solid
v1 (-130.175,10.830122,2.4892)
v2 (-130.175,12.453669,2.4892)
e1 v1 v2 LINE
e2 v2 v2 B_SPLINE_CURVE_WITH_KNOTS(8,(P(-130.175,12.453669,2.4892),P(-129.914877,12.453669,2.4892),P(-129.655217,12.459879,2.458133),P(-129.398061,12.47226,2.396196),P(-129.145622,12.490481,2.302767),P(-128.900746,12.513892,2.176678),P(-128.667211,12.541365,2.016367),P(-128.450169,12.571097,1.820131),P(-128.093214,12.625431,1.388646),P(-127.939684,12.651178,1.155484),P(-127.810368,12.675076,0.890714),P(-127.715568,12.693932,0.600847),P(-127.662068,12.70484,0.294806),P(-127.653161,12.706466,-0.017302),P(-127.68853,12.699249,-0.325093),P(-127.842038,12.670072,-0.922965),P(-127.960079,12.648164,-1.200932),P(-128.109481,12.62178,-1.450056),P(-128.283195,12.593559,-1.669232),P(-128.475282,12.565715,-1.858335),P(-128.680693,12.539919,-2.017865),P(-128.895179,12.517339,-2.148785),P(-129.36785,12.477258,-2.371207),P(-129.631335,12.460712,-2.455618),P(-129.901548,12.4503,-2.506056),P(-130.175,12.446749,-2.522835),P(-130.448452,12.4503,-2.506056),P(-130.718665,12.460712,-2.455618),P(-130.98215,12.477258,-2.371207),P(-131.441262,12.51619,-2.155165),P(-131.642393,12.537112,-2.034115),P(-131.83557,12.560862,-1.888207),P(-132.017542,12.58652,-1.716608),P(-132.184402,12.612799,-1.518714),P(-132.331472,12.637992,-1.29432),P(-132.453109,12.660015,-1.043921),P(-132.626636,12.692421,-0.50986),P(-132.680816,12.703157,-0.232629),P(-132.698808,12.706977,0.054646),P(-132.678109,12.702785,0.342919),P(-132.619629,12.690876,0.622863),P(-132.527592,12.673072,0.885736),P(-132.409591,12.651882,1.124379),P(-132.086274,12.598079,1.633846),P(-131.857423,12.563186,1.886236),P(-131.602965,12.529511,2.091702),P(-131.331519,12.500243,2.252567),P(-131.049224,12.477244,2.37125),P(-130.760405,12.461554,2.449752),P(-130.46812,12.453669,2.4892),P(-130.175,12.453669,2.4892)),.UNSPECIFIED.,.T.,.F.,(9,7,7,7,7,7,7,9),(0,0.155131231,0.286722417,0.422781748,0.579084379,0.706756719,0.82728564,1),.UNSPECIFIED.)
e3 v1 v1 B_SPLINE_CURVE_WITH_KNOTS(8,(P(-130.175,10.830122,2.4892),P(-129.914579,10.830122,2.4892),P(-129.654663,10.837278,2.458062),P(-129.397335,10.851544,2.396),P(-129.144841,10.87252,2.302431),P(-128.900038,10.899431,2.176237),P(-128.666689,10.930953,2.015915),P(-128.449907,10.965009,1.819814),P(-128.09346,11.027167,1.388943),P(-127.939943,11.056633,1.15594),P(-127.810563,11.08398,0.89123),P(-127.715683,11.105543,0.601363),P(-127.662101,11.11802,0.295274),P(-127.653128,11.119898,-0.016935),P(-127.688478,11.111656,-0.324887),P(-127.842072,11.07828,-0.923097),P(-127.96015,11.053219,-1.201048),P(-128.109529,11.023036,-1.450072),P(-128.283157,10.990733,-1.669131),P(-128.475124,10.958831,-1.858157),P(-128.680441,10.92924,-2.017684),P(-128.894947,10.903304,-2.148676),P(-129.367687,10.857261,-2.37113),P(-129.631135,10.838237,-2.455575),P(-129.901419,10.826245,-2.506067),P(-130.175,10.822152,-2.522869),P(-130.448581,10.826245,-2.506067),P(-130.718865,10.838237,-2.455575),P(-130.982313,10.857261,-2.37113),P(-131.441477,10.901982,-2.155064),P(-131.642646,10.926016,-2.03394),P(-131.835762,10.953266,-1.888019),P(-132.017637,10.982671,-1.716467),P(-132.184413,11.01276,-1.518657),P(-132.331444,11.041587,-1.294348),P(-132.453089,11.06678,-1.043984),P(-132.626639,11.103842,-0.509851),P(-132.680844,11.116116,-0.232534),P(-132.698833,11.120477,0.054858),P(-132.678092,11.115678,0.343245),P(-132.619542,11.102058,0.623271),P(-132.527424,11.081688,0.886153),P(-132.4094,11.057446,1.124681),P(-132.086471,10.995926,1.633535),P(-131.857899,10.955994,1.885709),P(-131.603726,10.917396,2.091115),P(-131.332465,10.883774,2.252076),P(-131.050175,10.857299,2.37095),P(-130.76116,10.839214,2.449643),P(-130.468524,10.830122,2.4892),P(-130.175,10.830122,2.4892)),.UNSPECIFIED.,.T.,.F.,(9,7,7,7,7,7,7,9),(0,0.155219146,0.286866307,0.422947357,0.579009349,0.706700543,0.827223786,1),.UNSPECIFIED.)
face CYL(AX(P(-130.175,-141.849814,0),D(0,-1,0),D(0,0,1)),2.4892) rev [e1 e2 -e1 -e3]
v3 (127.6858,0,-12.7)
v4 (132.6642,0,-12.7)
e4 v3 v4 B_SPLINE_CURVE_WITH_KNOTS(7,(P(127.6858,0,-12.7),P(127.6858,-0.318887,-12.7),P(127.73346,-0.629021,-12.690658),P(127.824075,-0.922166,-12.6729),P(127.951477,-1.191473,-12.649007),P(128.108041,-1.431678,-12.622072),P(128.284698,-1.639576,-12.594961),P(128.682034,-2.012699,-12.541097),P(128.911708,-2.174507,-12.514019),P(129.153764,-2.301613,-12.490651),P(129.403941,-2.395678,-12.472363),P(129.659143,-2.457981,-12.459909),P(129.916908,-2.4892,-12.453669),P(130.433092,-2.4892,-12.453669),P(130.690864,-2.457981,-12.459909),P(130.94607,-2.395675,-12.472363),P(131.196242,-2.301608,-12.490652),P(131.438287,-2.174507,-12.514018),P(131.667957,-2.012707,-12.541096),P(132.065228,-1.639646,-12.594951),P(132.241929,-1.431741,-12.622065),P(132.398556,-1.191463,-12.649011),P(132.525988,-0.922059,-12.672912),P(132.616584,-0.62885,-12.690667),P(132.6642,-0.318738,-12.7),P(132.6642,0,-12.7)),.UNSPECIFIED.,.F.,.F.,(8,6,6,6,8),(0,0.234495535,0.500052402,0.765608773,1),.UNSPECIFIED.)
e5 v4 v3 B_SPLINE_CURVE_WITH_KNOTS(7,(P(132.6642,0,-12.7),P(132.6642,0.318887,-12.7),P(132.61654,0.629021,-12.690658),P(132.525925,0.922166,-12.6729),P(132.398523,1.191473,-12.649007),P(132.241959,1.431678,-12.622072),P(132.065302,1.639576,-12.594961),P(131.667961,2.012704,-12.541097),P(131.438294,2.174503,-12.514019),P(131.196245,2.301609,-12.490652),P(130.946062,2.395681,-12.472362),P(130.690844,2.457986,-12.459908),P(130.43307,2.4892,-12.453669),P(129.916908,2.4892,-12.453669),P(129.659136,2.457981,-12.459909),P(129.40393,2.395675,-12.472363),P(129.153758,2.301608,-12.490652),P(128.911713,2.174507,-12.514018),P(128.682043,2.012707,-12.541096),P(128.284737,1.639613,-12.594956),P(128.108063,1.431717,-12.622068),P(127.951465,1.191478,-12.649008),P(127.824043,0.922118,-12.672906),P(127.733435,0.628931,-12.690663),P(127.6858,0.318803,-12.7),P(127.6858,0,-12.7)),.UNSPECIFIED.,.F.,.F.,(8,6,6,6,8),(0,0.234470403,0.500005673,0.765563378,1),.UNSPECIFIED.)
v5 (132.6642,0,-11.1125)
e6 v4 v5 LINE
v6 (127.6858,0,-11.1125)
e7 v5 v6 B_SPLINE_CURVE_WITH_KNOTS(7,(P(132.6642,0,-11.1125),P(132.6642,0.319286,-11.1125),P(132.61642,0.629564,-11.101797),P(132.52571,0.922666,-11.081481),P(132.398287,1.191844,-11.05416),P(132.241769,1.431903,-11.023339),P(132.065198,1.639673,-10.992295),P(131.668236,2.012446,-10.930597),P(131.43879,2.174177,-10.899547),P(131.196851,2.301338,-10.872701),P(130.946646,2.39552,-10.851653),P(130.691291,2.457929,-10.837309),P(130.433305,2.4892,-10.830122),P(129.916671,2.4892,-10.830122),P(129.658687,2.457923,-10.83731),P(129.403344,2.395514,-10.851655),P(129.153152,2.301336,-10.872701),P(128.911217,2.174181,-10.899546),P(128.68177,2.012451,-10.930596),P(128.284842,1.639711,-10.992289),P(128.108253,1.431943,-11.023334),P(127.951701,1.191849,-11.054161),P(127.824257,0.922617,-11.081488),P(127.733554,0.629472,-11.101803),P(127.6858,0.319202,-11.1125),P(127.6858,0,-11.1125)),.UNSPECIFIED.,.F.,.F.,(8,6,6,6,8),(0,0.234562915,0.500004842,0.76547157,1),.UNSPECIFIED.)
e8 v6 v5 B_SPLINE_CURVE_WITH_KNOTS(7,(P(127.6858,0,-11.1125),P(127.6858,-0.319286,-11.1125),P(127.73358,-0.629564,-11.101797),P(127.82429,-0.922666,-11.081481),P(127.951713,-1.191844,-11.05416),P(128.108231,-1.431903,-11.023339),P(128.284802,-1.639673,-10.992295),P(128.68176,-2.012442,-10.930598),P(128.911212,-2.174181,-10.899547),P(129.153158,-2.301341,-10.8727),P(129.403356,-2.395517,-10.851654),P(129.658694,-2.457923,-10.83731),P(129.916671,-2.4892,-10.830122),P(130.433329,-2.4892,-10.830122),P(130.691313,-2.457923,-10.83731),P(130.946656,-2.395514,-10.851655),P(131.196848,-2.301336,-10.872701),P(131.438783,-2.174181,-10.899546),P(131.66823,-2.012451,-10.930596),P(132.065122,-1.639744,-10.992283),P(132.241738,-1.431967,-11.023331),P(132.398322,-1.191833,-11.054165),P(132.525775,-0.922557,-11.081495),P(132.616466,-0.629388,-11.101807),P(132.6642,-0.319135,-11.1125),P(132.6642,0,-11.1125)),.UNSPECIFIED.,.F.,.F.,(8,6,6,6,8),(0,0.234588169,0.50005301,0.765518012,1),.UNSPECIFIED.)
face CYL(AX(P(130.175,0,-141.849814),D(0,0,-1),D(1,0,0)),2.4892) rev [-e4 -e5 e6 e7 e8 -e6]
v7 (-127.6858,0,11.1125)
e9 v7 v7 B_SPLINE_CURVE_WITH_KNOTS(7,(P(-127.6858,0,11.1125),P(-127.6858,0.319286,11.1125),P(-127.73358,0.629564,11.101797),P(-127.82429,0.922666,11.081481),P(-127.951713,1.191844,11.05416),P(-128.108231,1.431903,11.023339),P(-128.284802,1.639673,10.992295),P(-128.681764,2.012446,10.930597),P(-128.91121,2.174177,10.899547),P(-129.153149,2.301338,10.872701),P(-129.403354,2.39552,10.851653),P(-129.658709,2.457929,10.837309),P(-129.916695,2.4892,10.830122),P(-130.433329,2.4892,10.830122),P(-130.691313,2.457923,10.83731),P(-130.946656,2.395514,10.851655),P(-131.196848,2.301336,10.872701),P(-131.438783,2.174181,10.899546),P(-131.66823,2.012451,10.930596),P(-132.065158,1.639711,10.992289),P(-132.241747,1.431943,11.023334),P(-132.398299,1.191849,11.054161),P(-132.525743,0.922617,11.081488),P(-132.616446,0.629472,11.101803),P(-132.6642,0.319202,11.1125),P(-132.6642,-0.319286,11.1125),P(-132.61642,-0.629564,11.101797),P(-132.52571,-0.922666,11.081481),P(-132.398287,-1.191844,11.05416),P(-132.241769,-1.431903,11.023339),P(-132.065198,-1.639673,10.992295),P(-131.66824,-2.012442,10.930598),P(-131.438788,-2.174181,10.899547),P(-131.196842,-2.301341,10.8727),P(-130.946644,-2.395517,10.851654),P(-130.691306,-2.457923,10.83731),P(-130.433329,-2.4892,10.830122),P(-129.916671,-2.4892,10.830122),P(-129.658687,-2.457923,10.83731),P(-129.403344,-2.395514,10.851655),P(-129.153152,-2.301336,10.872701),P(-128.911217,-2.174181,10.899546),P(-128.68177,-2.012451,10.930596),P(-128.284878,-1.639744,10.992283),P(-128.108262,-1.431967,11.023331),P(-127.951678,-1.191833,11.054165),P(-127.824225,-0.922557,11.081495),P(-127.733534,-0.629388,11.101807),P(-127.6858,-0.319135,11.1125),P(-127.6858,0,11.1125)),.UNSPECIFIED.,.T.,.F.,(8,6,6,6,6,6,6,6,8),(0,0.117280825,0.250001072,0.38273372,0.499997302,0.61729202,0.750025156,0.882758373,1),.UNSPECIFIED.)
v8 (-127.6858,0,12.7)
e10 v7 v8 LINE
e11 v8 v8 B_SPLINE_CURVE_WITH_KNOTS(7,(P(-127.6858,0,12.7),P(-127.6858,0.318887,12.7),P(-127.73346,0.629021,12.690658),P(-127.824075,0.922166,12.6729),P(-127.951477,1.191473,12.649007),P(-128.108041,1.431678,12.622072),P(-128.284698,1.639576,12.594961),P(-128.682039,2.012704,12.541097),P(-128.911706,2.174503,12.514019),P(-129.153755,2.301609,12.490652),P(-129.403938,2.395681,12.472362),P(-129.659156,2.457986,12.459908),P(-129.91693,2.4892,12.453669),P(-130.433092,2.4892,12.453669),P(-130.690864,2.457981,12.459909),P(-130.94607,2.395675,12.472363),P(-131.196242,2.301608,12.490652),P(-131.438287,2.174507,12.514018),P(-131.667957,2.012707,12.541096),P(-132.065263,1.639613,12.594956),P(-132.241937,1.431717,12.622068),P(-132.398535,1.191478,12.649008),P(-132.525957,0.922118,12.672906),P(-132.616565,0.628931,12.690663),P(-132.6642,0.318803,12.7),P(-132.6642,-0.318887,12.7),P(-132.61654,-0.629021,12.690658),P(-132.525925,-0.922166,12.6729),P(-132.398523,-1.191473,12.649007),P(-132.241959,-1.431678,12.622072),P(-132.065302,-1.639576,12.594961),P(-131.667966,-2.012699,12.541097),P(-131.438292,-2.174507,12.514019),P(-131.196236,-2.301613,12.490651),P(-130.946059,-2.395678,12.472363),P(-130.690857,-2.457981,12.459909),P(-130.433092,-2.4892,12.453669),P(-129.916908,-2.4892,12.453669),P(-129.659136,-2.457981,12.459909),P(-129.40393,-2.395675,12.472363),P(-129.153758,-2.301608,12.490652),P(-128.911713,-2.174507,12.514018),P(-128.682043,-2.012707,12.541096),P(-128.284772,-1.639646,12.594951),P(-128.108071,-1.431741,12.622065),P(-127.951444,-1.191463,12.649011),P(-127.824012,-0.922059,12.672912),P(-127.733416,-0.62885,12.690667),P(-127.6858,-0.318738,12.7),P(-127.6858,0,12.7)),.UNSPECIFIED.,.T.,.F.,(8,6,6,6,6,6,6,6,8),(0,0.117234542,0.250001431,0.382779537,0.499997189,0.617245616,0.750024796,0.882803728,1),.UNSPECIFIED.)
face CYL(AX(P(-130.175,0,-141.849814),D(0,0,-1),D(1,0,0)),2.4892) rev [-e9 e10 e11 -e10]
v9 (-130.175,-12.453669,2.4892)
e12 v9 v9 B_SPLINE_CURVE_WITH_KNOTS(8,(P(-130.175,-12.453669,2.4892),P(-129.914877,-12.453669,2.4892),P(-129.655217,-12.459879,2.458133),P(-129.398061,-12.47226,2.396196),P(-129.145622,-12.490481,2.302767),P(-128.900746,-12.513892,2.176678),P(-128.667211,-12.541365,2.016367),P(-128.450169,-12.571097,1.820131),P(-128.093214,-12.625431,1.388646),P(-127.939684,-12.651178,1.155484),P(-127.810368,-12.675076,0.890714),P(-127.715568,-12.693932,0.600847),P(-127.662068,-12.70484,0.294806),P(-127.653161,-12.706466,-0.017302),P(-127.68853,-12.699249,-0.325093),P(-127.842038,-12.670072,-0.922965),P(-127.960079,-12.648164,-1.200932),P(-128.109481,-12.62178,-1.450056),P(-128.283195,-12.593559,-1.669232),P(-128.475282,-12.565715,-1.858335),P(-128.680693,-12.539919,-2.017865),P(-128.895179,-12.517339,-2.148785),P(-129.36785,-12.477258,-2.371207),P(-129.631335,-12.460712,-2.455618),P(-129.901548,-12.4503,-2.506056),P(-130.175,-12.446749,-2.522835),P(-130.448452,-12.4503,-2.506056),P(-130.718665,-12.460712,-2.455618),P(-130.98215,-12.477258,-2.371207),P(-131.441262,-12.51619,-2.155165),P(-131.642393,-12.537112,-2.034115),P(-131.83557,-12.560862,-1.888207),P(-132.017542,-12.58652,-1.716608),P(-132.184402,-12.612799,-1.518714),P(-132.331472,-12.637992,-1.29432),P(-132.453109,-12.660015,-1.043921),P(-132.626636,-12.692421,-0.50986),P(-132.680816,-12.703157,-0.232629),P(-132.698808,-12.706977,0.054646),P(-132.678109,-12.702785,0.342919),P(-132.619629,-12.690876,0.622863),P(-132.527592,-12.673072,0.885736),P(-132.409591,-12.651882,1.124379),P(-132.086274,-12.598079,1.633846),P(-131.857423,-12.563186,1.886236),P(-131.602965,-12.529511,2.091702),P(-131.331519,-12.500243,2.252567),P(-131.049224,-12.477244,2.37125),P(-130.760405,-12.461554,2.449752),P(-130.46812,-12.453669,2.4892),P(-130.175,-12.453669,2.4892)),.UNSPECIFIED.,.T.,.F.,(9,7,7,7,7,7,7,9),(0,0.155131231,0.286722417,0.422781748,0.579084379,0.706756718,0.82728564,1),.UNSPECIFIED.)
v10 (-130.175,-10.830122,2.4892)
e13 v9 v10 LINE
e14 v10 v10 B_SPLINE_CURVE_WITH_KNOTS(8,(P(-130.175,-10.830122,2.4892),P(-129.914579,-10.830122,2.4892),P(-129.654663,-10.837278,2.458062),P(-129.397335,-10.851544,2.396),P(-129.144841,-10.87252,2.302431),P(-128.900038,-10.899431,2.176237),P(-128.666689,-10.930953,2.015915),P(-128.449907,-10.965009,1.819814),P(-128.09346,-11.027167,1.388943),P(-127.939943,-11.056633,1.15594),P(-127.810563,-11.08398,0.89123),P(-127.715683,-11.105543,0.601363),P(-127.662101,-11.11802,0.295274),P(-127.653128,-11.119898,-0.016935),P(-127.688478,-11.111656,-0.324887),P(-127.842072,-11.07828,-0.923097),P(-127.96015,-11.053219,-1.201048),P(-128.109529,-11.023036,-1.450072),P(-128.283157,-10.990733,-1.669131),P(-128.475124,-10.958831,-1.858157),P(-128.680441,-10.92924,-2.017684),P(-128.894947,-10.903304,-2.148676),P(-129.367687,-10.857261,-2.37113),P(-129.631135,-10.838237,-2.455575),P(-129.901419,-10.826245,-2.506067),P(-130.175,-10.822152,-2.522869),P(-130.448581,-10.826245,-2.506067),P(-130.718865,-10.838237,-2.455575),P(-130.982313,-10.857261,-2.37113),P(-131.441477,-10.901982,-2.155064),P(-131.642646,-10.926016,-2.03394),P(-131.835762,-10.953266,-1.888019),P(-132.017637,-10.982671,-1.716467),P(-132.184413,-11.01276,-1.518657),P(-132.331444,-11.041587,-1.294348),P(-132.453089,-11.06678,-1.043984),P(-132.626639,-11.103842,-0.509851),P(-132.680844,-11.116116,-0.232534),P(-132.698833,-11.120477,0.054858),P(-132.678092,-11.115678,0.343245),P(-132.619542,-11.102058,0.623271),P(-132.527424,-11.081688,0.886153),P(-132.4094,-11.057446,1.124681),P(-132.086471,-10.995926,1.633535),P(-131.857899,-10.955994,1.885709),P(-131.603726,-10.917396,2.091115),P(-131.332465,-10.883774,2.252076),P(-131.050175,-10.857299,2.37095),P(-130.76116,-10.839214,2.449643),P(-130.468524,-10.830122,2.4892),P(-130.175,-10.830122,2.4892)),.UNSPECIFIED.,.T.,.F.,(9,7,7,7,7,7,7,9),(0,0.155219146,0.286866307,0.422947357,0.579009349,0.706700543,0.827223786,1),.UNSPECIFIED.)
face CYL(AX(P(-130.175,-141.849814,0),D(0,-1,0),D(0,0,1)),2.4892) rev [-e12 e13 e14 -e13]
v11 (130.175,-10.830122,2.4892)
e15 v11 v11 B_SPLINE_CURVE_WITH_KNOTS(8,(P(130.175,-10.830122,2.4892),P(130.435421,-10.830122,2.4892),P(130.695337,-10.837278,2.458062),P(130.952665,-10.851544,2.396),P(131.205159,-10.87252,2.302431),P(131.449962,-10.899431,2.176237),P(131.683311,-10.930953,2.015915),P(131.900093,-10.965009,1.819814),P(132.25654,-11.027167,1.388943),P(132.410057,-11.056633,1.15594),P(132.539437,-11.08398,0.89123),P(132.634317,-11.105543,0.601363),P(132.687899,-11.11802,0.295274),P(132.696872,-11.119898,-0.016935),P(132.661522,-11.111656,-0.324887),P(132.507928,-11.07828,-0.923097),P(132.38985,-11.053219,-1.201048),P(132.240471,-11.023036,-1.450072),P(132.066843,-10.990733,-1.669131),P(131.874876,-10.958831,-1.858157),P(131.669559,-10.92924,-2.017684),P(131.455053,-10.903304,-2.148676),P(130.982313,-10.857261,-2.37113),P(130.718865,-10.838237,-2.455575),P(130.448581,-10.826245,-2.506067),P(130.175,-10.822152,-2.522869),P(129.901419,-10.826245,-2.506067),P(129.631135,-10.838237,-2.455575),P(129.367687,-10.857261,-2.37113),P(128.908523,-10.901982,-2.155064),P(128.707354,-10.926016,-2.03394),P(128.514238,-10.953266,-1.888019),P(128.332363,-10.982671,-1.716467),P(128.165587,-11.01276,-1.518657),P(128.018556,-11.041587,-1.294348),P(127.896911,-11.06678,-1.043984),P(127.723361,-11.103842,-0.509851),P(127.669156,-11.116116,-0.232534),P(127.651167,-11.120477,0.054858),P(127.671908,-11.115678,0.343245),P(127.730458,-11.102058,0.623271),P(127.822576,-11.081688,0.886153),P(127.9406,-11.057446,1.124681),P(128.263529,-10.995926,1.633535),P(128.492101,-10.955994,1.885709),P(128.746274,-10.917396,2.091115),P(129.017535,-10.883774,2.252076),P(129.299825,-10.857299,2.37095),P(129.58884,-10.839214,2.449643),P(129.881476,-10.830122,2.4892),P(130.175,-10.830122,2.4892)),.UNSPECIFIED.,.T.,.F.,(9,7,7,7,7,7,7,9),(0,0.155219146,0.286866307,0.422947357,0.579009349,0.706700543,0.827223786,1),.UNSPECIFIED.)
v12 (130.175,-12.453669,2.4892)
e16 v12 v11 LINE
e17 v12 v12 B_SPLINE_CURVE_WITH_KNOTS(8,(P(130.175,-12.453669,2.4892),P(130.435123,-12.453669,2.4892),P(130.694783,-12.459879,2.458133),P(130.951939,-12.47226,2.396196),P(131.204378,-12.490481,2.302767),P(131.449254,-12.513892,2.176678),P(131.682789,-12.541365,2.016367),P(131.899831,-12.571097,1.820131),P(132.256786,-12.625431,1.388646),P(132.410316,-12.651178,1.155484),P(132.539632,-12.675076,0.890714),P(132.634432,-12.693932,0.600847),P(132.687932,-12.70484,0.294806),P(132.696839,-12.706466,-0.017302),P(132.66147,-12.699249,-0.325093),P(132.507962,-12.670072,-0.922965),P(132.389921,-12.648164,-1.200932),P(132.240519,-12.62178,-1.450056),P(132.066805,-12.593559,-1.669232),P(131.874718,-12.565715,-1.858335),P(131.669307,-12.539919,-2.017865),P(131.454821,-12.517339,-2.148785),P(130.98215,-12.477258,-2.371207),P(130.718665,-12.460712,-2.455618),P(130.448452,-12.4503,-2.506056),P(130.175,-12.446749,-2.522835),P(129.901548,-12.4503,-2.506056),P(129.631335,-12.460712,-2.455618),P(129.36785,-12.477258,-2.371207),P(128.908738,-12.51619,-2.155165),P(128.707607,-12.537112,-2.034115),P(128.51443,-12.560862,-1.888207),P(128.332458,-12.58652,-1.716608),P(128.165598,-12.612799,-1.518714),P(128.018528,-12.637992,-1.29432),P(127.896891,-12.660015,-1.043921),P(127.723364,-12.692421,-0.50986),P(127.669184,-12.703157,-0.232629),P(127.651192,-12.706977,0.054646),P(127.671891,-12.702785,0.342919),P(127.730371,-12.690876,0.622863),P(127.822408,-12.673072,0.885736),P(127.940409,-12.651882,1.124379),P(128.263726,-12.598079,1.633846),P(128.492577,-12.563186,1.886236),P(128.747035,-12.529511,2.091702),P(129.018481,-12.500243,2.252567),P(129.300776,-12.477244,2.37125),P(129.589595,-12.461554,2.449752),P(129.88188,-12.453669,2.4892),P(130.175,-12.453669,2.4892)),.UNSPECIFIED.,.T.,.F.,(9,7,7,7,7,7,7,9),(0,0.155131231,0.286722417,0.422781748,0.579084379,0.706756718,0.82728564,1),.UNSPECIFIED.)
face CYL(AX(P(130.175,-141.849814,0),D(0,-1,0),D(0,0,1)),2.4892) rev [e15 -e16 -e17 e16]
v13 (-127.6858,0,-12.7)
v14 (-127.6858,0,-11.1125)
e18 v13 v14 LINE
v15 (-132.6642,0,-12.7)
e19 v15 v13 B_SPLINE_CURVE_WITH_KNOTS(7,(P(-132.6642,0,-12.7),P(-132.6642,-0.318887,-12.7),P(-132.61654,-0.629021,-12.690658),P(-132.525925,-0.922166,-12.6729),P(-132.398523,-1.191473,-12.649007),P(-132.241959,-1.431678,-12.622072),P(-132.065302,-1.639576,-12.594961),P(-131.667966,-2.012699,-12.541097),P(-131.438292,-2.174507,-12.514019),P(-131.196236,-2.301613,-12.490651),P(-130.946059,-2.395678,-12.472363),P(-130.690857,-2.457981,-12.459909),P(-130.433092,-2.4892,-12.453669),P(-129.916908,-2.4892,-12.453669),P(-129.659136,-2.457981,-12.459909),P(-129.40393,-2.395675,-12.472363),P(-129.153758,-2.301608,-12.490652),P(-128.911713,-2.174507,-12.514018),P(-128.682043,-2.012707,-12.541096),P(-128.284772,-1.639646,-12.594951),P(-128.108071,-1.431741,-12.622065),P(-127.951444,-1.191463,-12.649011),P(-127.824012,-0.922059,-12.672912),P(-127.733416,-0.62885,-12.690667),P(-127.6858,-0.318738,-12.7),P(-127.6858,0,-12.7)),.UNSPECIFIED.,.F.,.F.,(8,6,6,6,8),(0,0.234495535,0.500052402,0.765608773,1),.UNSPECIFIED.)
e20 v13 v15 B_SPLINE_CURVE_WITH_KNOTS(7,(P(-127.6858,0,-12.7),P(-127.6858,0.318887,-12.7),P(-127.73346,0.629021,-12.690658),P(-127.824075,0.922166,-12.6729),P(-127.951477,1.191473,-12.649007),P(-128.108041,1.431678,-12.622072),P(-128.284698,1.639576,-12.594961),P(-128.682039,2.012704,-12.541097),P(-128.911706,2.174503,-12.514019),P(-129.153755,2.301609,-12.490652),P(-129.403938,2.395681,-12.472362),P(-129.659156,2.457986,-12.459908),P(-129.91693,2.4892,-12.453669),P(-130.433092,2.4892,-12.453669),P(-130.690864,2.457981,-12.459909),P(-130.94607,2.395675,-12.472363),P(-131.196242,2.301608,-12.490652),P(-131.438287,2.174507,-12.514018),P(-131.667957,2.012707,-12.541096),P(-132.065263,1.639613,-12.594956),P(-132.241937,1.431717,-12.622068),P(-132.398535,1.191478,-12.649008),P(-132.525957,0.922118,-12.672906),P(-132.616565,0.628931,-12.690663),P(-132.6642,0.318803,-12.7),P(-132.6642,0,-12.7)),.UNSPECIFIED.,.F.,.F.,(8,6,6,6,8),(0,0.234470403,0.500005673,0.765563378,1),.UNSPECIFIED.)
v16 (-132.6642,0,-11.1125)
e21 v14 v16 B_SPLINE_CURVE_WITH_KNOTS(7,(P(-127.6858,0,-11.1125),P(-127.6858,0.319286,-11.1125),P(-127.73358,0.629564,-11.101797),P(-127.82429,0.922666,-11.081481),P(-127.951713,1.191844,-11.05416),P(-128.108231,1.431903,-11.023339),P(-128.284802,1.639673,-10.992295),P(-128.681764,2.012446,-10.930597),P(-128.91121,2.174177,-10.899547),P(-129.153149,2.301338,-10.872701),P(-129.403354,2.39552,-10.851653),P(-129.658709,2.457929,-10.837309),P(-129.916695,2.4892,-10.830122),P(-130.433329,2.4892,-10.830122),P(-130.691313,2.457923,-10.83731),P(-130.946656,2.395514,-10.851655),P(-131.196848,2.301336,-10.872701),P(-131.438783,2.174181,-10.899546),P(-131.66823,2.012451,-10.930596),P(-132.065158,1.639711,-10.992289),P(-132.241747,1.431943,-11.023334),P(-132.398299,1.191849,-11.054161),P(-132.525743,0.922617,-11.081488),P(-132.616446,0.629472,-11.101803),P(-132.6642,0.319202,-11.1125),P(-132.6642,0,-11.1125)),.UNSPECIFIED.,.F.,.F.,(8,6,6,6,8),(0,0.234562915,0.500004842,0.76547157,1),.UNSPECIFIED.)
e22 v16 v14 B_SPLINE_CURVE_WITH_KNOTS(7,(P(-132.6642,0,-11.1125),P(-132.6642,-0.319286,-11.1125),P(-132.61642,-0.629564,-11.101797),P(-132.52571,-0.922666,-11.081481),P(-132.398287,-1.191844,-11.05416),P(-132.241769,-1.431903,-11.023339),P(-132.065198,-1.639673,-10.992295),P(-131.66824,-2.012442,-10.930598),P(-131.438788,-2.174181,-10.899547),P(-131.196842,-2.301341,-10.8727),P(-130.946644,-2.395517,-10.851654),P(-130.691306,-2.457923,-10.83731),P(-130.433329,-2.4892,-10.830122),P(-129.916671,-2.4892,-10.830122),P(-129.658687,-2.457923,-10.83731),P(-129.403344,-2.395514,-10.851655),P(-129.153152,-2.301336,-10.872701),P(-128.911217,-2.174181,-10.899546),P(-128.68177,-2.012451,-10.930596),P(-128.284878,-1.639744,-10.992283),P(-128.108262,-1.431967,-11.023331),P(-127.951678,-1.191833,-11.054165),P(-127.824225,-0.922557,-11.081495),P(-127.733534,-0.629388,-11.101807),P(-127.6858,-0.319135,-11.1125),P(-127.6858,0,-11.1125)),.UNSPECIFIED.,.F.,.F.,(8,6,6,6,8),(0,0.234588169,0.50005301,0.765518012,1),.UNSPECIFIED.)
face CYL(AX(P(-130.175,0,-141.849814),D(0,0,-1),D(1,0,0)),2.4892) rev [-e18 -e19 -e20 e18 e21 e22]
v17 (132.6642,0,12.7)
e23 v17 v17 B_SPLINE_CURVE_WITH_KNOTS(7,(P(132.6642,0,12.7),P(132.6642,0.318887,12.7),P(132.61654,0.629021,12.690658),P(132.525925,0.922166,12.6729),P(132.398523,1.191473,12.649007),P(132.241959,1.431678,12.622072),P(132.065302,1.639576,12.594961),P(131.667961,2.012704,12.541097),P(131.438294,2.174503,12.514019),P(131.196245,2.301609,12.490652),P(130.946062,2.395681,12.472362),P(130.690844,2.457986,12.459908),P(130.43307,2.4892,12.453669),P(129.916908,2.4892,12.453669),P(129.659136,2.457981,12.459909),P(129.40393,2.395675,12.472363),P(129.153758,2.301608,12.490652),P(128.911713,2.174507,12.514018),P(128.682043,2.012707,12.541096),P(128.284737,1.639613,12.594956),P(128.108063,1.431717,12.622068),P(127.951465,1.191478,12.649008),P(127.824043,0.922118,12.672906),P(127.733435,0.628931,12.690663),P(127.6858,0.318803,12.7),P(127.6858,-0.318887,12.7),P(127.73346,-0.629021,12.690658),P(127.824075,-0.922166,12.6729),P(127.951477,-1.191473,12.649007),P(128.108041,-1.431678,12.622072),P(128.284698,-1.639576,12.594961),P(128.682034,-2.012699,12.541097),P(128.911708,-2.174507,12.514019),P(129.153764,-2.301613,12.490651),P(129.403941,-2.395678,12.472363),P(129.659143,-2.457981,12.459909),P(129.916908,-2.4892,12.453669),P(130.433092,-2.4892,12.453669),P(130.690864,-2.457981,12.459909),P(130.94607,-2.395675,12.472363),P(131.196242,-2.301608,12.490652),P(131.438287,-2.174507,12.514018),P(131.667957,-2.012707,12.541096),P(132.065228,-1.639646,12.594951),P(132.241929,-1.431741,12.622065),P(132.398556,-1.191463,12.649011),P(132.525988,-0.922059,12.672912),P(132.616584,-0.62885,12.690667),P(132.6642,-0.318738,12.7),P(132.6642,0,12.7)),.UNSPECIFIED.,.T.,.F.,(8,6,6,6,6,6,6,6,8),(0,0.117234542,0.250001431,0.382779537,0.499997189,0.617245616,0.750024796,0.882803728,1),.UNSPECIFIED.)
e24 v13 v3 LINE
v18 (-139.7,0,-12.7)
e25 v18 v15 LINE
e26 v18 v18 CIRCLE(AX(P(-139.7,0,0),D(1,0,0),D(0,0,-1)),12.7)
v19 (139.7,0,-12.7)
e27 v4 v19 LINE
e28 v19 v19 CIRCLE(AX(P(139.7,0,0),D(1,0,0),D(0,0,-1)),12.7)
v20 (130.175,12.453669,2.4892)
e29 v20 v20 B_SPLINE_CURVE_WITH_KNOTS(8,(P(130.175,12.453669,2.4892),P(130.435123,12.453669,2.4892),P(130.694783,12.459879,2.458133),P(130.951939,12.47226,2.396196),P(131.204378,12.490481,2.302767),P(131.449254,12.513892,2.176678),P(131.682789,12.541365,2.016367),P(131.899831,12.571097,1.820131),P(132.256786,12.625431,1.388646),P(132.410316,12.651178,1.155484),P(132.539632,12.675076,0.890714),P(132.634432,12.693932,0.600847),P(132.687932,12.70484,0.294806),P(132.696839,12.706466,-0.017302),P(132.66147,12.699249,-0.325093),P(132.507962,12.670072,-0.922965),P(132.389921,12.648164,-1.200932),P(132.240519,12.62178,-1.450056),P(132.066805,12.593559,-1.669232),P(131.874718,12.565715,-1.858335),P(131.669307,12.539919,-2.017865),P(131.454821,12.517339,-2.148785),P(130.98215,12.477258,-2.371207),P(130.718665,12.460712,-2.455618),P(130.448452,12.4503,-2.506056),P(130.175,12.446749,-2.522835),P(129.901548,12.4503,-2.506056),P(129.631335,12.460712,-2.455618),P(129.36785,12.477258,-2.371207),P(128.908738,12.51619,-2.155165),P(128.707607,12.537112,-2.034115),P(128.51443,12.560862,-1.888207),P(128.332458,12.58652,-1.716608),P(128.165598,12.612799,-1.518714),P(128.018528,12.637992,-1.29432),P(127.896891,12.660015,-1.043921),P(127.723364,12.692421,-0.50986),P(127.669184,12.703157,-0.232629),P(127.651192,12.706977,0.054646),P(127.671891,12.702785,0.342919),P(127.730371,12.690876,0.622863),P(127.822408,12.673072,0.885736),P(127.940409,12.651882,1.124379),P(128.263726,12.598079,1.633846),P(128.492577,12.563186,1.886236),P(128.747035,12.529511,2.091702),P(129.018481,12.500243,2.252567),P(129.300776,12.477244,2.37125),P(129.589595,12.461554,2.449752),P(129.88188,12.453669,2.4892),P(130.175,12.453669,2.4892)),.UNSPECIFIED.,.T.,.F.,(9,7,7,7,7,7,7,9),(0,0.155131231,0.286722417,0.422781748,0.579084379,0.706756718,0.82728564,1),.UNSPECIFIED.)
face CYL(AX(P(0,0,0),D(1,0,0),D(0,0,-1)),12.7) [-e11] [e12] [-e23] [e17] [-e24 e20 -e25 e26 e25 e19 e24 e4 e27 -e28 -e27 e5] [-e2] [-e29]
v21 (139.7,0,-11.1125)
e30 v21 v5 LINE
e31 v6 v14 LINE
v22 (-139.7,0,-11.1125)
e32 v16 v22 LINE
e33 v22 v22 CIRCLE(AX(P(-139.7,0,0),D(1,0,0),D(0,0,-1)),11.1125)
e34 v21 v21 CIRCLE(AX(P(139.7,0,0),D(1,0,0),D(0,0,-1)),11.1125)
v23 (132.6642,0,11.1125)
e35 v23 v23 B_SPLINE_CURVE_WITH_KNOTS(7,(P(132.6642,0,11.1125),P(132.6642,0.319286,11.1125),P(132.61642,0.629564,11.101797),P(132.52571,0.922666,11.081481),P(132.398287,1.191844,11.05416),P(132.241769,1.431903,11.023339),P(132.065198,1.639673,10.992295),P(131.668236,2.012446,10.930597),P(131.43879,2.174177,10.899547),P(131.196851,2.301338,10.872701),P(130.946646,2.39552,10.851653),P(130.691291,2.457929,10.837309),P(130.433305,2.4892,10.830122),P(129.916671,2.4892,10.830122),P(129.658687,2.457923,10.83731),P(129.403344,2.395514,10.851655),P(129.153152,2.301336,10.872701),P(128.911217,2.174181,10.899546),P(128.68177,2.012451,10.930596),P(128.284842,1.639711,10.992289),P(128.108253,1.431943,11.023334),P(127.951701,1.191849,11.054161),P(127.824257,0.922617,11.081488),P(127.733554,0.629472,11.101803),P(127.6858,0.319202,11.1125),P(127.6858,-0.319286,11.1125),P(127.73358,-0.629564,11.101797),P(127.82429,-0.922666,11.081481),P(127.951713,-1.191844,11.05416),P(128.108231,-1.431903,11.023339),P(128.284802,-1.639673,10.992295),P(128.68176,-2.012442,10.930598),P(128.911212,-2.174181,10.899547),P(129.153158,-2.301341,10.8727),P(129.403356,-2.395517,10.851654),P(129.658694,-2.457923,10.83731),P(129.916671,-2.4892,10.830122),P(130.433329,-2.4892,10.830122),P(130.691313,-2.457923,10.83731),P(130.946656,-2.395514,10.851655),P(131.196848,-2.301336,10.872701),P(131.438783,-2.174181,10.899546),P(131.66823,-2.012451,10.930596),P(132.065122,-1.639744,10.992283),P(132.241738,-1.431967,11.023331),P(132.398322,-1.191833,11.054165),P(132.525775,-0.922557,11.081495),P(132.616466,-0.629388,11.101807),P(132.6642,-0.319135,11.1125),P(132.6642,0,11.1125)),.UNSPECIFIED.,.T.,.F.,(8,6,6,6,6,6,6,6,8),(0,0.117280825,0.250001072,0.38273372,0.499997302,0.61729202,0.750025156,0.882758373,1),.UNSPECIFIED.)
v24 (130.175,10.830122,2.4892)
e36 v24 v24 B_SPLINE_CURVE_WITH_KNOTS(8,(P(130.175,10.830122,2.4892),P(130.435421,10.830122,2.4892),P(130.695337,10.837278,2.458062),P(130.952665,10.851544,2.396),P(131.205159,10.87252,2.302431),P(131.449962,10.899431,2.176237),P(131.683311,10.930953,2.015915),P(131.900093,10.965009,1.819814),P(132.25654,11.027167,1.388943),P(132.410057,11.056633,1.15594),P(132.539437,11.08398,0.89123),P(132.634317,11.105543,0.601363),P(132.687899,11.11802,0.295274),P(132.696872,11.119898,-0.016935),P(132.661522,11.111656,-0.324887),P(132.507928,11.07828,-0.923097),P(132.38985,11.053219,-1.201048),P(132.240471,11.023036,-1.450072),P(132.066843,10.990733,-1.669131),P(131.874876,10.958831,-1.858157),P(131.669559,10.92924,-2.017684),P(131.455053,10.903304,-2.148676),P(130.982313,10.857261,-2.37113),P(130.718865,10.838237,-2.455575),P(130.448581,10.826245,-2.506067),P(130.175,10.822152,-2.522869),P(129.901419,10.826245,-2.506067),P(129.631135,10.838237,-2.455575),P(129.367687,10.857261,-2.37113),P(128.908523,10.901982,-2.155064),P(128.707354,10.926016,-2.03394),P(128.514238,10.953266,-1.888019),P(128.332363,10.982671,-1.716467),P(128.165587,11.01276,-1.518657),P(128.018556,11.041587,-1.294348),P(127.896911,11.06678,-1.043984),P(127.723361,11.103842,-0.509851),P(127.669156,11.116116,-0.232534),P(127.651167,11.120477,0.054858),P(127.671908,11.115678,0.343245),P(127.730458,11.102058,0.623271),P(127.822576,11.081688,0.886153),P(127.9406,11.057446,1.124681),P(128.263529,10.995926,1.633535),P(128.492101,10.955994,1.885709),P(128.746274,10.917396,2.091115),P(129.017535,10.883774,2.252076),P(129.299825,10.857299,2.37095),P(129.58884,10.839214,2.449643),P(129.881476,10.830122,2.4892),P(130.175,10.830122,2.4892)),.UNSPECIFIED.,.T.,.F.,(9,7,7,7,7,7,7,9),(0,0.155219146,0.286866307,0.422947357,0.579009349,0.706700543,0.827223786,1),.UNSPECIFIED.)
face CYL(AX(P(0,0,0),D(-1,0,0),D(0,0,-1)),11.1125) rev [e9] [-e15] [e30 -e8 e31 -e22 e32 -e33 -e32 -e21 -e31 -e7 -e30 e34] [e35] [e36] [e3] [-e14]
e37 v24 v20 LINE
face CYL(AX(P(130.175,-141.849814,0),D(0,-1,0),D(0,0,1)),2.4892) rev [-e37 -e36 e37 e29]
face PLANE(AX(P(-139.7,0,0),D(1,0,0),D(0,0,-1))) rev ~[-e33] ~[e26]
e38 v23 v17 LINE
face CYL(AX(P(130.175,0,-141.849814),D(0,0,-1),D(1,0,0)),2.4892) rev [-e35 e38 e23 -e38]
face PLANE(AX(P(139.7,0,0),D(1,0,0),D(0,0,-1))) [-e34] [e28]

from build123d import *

# Parameters (mm, degrees)
SKETCH1_R               = 12.7
SKETCH1_R_2             = 11.1125
EXTRUDE_THIN1_DEPTH     = 139.7
CUT_EXTRUDE1_DEPTH      = 141.849813631
CUT_EXTRUDE1_DEPTH_BACK = 141.849813631
SKETCH3_R               = 2.4892
CUT_EXTRUDE2_DEPTH      = 141.849813749
CUT_EXTRUDE2_DEPTH_BACK = 141.849813749
SKETCH4_R               = 2.4892


with BuildPart() as part:
    # Sketch1 → Extrude-Thin1 (new, symmetric)
    with BuildSketch(Plane(origin=(0, 0, 0), x_dir=(0, 0, -1), z_dir=(1, 0, 0))):
        Circle(SKETCH1_R)
        Circle(SKETCH1_R_2, mode=Mode.SUBTRACT)
    extrude(amount=EXTRUDE_THIN1_DEPTH, both=True)

    # Sketch3 → Cut-Extrude1 (cut, two sides: drawn at the far end of the back side and taken through both)
    with BuildSketch(Plane.XY.offset(-CUT_EXTRUDE1_DEPTH_BACK)):
        with Locations((130.175, 0)):
            Circle(SKETCH3_R)
        with Locations((-130.175, 0)):
            Circle(SKETCH3_R)
    extrude(amount=CUT_EXTRUDE1_DEPTH + CUT_EXTRUDE1_DEPTH_BACK, mode=Mode.SUBTRACT)

    # Sketch4 → Cut-Extrude2 (cut, two sides: drawn at the far end of the back side and taken through both)
    with BuildSketch(Plane(origin=(0, 0, 0), x_dir=(1, 0, 0), z_dir=(0, 1, 0)).offset(-CUT_EXTRUDE2_DEPTH_BACK)):
        with Locations(Location((130.175, 0, 0), (0, 0, 270))):
            Circle(SKETCH4_R)
        with Locations(Location((-130.175, 0, 0), (0, 0, 270))):
            Circle(SKETCH4_R)
    extrude(amount=CUT_EXTRUDE2_DEPTH + CUT_EXTRUDE2_DEPTH_BACK, mode=Mode.SUBTRACT)


solid = part.part
